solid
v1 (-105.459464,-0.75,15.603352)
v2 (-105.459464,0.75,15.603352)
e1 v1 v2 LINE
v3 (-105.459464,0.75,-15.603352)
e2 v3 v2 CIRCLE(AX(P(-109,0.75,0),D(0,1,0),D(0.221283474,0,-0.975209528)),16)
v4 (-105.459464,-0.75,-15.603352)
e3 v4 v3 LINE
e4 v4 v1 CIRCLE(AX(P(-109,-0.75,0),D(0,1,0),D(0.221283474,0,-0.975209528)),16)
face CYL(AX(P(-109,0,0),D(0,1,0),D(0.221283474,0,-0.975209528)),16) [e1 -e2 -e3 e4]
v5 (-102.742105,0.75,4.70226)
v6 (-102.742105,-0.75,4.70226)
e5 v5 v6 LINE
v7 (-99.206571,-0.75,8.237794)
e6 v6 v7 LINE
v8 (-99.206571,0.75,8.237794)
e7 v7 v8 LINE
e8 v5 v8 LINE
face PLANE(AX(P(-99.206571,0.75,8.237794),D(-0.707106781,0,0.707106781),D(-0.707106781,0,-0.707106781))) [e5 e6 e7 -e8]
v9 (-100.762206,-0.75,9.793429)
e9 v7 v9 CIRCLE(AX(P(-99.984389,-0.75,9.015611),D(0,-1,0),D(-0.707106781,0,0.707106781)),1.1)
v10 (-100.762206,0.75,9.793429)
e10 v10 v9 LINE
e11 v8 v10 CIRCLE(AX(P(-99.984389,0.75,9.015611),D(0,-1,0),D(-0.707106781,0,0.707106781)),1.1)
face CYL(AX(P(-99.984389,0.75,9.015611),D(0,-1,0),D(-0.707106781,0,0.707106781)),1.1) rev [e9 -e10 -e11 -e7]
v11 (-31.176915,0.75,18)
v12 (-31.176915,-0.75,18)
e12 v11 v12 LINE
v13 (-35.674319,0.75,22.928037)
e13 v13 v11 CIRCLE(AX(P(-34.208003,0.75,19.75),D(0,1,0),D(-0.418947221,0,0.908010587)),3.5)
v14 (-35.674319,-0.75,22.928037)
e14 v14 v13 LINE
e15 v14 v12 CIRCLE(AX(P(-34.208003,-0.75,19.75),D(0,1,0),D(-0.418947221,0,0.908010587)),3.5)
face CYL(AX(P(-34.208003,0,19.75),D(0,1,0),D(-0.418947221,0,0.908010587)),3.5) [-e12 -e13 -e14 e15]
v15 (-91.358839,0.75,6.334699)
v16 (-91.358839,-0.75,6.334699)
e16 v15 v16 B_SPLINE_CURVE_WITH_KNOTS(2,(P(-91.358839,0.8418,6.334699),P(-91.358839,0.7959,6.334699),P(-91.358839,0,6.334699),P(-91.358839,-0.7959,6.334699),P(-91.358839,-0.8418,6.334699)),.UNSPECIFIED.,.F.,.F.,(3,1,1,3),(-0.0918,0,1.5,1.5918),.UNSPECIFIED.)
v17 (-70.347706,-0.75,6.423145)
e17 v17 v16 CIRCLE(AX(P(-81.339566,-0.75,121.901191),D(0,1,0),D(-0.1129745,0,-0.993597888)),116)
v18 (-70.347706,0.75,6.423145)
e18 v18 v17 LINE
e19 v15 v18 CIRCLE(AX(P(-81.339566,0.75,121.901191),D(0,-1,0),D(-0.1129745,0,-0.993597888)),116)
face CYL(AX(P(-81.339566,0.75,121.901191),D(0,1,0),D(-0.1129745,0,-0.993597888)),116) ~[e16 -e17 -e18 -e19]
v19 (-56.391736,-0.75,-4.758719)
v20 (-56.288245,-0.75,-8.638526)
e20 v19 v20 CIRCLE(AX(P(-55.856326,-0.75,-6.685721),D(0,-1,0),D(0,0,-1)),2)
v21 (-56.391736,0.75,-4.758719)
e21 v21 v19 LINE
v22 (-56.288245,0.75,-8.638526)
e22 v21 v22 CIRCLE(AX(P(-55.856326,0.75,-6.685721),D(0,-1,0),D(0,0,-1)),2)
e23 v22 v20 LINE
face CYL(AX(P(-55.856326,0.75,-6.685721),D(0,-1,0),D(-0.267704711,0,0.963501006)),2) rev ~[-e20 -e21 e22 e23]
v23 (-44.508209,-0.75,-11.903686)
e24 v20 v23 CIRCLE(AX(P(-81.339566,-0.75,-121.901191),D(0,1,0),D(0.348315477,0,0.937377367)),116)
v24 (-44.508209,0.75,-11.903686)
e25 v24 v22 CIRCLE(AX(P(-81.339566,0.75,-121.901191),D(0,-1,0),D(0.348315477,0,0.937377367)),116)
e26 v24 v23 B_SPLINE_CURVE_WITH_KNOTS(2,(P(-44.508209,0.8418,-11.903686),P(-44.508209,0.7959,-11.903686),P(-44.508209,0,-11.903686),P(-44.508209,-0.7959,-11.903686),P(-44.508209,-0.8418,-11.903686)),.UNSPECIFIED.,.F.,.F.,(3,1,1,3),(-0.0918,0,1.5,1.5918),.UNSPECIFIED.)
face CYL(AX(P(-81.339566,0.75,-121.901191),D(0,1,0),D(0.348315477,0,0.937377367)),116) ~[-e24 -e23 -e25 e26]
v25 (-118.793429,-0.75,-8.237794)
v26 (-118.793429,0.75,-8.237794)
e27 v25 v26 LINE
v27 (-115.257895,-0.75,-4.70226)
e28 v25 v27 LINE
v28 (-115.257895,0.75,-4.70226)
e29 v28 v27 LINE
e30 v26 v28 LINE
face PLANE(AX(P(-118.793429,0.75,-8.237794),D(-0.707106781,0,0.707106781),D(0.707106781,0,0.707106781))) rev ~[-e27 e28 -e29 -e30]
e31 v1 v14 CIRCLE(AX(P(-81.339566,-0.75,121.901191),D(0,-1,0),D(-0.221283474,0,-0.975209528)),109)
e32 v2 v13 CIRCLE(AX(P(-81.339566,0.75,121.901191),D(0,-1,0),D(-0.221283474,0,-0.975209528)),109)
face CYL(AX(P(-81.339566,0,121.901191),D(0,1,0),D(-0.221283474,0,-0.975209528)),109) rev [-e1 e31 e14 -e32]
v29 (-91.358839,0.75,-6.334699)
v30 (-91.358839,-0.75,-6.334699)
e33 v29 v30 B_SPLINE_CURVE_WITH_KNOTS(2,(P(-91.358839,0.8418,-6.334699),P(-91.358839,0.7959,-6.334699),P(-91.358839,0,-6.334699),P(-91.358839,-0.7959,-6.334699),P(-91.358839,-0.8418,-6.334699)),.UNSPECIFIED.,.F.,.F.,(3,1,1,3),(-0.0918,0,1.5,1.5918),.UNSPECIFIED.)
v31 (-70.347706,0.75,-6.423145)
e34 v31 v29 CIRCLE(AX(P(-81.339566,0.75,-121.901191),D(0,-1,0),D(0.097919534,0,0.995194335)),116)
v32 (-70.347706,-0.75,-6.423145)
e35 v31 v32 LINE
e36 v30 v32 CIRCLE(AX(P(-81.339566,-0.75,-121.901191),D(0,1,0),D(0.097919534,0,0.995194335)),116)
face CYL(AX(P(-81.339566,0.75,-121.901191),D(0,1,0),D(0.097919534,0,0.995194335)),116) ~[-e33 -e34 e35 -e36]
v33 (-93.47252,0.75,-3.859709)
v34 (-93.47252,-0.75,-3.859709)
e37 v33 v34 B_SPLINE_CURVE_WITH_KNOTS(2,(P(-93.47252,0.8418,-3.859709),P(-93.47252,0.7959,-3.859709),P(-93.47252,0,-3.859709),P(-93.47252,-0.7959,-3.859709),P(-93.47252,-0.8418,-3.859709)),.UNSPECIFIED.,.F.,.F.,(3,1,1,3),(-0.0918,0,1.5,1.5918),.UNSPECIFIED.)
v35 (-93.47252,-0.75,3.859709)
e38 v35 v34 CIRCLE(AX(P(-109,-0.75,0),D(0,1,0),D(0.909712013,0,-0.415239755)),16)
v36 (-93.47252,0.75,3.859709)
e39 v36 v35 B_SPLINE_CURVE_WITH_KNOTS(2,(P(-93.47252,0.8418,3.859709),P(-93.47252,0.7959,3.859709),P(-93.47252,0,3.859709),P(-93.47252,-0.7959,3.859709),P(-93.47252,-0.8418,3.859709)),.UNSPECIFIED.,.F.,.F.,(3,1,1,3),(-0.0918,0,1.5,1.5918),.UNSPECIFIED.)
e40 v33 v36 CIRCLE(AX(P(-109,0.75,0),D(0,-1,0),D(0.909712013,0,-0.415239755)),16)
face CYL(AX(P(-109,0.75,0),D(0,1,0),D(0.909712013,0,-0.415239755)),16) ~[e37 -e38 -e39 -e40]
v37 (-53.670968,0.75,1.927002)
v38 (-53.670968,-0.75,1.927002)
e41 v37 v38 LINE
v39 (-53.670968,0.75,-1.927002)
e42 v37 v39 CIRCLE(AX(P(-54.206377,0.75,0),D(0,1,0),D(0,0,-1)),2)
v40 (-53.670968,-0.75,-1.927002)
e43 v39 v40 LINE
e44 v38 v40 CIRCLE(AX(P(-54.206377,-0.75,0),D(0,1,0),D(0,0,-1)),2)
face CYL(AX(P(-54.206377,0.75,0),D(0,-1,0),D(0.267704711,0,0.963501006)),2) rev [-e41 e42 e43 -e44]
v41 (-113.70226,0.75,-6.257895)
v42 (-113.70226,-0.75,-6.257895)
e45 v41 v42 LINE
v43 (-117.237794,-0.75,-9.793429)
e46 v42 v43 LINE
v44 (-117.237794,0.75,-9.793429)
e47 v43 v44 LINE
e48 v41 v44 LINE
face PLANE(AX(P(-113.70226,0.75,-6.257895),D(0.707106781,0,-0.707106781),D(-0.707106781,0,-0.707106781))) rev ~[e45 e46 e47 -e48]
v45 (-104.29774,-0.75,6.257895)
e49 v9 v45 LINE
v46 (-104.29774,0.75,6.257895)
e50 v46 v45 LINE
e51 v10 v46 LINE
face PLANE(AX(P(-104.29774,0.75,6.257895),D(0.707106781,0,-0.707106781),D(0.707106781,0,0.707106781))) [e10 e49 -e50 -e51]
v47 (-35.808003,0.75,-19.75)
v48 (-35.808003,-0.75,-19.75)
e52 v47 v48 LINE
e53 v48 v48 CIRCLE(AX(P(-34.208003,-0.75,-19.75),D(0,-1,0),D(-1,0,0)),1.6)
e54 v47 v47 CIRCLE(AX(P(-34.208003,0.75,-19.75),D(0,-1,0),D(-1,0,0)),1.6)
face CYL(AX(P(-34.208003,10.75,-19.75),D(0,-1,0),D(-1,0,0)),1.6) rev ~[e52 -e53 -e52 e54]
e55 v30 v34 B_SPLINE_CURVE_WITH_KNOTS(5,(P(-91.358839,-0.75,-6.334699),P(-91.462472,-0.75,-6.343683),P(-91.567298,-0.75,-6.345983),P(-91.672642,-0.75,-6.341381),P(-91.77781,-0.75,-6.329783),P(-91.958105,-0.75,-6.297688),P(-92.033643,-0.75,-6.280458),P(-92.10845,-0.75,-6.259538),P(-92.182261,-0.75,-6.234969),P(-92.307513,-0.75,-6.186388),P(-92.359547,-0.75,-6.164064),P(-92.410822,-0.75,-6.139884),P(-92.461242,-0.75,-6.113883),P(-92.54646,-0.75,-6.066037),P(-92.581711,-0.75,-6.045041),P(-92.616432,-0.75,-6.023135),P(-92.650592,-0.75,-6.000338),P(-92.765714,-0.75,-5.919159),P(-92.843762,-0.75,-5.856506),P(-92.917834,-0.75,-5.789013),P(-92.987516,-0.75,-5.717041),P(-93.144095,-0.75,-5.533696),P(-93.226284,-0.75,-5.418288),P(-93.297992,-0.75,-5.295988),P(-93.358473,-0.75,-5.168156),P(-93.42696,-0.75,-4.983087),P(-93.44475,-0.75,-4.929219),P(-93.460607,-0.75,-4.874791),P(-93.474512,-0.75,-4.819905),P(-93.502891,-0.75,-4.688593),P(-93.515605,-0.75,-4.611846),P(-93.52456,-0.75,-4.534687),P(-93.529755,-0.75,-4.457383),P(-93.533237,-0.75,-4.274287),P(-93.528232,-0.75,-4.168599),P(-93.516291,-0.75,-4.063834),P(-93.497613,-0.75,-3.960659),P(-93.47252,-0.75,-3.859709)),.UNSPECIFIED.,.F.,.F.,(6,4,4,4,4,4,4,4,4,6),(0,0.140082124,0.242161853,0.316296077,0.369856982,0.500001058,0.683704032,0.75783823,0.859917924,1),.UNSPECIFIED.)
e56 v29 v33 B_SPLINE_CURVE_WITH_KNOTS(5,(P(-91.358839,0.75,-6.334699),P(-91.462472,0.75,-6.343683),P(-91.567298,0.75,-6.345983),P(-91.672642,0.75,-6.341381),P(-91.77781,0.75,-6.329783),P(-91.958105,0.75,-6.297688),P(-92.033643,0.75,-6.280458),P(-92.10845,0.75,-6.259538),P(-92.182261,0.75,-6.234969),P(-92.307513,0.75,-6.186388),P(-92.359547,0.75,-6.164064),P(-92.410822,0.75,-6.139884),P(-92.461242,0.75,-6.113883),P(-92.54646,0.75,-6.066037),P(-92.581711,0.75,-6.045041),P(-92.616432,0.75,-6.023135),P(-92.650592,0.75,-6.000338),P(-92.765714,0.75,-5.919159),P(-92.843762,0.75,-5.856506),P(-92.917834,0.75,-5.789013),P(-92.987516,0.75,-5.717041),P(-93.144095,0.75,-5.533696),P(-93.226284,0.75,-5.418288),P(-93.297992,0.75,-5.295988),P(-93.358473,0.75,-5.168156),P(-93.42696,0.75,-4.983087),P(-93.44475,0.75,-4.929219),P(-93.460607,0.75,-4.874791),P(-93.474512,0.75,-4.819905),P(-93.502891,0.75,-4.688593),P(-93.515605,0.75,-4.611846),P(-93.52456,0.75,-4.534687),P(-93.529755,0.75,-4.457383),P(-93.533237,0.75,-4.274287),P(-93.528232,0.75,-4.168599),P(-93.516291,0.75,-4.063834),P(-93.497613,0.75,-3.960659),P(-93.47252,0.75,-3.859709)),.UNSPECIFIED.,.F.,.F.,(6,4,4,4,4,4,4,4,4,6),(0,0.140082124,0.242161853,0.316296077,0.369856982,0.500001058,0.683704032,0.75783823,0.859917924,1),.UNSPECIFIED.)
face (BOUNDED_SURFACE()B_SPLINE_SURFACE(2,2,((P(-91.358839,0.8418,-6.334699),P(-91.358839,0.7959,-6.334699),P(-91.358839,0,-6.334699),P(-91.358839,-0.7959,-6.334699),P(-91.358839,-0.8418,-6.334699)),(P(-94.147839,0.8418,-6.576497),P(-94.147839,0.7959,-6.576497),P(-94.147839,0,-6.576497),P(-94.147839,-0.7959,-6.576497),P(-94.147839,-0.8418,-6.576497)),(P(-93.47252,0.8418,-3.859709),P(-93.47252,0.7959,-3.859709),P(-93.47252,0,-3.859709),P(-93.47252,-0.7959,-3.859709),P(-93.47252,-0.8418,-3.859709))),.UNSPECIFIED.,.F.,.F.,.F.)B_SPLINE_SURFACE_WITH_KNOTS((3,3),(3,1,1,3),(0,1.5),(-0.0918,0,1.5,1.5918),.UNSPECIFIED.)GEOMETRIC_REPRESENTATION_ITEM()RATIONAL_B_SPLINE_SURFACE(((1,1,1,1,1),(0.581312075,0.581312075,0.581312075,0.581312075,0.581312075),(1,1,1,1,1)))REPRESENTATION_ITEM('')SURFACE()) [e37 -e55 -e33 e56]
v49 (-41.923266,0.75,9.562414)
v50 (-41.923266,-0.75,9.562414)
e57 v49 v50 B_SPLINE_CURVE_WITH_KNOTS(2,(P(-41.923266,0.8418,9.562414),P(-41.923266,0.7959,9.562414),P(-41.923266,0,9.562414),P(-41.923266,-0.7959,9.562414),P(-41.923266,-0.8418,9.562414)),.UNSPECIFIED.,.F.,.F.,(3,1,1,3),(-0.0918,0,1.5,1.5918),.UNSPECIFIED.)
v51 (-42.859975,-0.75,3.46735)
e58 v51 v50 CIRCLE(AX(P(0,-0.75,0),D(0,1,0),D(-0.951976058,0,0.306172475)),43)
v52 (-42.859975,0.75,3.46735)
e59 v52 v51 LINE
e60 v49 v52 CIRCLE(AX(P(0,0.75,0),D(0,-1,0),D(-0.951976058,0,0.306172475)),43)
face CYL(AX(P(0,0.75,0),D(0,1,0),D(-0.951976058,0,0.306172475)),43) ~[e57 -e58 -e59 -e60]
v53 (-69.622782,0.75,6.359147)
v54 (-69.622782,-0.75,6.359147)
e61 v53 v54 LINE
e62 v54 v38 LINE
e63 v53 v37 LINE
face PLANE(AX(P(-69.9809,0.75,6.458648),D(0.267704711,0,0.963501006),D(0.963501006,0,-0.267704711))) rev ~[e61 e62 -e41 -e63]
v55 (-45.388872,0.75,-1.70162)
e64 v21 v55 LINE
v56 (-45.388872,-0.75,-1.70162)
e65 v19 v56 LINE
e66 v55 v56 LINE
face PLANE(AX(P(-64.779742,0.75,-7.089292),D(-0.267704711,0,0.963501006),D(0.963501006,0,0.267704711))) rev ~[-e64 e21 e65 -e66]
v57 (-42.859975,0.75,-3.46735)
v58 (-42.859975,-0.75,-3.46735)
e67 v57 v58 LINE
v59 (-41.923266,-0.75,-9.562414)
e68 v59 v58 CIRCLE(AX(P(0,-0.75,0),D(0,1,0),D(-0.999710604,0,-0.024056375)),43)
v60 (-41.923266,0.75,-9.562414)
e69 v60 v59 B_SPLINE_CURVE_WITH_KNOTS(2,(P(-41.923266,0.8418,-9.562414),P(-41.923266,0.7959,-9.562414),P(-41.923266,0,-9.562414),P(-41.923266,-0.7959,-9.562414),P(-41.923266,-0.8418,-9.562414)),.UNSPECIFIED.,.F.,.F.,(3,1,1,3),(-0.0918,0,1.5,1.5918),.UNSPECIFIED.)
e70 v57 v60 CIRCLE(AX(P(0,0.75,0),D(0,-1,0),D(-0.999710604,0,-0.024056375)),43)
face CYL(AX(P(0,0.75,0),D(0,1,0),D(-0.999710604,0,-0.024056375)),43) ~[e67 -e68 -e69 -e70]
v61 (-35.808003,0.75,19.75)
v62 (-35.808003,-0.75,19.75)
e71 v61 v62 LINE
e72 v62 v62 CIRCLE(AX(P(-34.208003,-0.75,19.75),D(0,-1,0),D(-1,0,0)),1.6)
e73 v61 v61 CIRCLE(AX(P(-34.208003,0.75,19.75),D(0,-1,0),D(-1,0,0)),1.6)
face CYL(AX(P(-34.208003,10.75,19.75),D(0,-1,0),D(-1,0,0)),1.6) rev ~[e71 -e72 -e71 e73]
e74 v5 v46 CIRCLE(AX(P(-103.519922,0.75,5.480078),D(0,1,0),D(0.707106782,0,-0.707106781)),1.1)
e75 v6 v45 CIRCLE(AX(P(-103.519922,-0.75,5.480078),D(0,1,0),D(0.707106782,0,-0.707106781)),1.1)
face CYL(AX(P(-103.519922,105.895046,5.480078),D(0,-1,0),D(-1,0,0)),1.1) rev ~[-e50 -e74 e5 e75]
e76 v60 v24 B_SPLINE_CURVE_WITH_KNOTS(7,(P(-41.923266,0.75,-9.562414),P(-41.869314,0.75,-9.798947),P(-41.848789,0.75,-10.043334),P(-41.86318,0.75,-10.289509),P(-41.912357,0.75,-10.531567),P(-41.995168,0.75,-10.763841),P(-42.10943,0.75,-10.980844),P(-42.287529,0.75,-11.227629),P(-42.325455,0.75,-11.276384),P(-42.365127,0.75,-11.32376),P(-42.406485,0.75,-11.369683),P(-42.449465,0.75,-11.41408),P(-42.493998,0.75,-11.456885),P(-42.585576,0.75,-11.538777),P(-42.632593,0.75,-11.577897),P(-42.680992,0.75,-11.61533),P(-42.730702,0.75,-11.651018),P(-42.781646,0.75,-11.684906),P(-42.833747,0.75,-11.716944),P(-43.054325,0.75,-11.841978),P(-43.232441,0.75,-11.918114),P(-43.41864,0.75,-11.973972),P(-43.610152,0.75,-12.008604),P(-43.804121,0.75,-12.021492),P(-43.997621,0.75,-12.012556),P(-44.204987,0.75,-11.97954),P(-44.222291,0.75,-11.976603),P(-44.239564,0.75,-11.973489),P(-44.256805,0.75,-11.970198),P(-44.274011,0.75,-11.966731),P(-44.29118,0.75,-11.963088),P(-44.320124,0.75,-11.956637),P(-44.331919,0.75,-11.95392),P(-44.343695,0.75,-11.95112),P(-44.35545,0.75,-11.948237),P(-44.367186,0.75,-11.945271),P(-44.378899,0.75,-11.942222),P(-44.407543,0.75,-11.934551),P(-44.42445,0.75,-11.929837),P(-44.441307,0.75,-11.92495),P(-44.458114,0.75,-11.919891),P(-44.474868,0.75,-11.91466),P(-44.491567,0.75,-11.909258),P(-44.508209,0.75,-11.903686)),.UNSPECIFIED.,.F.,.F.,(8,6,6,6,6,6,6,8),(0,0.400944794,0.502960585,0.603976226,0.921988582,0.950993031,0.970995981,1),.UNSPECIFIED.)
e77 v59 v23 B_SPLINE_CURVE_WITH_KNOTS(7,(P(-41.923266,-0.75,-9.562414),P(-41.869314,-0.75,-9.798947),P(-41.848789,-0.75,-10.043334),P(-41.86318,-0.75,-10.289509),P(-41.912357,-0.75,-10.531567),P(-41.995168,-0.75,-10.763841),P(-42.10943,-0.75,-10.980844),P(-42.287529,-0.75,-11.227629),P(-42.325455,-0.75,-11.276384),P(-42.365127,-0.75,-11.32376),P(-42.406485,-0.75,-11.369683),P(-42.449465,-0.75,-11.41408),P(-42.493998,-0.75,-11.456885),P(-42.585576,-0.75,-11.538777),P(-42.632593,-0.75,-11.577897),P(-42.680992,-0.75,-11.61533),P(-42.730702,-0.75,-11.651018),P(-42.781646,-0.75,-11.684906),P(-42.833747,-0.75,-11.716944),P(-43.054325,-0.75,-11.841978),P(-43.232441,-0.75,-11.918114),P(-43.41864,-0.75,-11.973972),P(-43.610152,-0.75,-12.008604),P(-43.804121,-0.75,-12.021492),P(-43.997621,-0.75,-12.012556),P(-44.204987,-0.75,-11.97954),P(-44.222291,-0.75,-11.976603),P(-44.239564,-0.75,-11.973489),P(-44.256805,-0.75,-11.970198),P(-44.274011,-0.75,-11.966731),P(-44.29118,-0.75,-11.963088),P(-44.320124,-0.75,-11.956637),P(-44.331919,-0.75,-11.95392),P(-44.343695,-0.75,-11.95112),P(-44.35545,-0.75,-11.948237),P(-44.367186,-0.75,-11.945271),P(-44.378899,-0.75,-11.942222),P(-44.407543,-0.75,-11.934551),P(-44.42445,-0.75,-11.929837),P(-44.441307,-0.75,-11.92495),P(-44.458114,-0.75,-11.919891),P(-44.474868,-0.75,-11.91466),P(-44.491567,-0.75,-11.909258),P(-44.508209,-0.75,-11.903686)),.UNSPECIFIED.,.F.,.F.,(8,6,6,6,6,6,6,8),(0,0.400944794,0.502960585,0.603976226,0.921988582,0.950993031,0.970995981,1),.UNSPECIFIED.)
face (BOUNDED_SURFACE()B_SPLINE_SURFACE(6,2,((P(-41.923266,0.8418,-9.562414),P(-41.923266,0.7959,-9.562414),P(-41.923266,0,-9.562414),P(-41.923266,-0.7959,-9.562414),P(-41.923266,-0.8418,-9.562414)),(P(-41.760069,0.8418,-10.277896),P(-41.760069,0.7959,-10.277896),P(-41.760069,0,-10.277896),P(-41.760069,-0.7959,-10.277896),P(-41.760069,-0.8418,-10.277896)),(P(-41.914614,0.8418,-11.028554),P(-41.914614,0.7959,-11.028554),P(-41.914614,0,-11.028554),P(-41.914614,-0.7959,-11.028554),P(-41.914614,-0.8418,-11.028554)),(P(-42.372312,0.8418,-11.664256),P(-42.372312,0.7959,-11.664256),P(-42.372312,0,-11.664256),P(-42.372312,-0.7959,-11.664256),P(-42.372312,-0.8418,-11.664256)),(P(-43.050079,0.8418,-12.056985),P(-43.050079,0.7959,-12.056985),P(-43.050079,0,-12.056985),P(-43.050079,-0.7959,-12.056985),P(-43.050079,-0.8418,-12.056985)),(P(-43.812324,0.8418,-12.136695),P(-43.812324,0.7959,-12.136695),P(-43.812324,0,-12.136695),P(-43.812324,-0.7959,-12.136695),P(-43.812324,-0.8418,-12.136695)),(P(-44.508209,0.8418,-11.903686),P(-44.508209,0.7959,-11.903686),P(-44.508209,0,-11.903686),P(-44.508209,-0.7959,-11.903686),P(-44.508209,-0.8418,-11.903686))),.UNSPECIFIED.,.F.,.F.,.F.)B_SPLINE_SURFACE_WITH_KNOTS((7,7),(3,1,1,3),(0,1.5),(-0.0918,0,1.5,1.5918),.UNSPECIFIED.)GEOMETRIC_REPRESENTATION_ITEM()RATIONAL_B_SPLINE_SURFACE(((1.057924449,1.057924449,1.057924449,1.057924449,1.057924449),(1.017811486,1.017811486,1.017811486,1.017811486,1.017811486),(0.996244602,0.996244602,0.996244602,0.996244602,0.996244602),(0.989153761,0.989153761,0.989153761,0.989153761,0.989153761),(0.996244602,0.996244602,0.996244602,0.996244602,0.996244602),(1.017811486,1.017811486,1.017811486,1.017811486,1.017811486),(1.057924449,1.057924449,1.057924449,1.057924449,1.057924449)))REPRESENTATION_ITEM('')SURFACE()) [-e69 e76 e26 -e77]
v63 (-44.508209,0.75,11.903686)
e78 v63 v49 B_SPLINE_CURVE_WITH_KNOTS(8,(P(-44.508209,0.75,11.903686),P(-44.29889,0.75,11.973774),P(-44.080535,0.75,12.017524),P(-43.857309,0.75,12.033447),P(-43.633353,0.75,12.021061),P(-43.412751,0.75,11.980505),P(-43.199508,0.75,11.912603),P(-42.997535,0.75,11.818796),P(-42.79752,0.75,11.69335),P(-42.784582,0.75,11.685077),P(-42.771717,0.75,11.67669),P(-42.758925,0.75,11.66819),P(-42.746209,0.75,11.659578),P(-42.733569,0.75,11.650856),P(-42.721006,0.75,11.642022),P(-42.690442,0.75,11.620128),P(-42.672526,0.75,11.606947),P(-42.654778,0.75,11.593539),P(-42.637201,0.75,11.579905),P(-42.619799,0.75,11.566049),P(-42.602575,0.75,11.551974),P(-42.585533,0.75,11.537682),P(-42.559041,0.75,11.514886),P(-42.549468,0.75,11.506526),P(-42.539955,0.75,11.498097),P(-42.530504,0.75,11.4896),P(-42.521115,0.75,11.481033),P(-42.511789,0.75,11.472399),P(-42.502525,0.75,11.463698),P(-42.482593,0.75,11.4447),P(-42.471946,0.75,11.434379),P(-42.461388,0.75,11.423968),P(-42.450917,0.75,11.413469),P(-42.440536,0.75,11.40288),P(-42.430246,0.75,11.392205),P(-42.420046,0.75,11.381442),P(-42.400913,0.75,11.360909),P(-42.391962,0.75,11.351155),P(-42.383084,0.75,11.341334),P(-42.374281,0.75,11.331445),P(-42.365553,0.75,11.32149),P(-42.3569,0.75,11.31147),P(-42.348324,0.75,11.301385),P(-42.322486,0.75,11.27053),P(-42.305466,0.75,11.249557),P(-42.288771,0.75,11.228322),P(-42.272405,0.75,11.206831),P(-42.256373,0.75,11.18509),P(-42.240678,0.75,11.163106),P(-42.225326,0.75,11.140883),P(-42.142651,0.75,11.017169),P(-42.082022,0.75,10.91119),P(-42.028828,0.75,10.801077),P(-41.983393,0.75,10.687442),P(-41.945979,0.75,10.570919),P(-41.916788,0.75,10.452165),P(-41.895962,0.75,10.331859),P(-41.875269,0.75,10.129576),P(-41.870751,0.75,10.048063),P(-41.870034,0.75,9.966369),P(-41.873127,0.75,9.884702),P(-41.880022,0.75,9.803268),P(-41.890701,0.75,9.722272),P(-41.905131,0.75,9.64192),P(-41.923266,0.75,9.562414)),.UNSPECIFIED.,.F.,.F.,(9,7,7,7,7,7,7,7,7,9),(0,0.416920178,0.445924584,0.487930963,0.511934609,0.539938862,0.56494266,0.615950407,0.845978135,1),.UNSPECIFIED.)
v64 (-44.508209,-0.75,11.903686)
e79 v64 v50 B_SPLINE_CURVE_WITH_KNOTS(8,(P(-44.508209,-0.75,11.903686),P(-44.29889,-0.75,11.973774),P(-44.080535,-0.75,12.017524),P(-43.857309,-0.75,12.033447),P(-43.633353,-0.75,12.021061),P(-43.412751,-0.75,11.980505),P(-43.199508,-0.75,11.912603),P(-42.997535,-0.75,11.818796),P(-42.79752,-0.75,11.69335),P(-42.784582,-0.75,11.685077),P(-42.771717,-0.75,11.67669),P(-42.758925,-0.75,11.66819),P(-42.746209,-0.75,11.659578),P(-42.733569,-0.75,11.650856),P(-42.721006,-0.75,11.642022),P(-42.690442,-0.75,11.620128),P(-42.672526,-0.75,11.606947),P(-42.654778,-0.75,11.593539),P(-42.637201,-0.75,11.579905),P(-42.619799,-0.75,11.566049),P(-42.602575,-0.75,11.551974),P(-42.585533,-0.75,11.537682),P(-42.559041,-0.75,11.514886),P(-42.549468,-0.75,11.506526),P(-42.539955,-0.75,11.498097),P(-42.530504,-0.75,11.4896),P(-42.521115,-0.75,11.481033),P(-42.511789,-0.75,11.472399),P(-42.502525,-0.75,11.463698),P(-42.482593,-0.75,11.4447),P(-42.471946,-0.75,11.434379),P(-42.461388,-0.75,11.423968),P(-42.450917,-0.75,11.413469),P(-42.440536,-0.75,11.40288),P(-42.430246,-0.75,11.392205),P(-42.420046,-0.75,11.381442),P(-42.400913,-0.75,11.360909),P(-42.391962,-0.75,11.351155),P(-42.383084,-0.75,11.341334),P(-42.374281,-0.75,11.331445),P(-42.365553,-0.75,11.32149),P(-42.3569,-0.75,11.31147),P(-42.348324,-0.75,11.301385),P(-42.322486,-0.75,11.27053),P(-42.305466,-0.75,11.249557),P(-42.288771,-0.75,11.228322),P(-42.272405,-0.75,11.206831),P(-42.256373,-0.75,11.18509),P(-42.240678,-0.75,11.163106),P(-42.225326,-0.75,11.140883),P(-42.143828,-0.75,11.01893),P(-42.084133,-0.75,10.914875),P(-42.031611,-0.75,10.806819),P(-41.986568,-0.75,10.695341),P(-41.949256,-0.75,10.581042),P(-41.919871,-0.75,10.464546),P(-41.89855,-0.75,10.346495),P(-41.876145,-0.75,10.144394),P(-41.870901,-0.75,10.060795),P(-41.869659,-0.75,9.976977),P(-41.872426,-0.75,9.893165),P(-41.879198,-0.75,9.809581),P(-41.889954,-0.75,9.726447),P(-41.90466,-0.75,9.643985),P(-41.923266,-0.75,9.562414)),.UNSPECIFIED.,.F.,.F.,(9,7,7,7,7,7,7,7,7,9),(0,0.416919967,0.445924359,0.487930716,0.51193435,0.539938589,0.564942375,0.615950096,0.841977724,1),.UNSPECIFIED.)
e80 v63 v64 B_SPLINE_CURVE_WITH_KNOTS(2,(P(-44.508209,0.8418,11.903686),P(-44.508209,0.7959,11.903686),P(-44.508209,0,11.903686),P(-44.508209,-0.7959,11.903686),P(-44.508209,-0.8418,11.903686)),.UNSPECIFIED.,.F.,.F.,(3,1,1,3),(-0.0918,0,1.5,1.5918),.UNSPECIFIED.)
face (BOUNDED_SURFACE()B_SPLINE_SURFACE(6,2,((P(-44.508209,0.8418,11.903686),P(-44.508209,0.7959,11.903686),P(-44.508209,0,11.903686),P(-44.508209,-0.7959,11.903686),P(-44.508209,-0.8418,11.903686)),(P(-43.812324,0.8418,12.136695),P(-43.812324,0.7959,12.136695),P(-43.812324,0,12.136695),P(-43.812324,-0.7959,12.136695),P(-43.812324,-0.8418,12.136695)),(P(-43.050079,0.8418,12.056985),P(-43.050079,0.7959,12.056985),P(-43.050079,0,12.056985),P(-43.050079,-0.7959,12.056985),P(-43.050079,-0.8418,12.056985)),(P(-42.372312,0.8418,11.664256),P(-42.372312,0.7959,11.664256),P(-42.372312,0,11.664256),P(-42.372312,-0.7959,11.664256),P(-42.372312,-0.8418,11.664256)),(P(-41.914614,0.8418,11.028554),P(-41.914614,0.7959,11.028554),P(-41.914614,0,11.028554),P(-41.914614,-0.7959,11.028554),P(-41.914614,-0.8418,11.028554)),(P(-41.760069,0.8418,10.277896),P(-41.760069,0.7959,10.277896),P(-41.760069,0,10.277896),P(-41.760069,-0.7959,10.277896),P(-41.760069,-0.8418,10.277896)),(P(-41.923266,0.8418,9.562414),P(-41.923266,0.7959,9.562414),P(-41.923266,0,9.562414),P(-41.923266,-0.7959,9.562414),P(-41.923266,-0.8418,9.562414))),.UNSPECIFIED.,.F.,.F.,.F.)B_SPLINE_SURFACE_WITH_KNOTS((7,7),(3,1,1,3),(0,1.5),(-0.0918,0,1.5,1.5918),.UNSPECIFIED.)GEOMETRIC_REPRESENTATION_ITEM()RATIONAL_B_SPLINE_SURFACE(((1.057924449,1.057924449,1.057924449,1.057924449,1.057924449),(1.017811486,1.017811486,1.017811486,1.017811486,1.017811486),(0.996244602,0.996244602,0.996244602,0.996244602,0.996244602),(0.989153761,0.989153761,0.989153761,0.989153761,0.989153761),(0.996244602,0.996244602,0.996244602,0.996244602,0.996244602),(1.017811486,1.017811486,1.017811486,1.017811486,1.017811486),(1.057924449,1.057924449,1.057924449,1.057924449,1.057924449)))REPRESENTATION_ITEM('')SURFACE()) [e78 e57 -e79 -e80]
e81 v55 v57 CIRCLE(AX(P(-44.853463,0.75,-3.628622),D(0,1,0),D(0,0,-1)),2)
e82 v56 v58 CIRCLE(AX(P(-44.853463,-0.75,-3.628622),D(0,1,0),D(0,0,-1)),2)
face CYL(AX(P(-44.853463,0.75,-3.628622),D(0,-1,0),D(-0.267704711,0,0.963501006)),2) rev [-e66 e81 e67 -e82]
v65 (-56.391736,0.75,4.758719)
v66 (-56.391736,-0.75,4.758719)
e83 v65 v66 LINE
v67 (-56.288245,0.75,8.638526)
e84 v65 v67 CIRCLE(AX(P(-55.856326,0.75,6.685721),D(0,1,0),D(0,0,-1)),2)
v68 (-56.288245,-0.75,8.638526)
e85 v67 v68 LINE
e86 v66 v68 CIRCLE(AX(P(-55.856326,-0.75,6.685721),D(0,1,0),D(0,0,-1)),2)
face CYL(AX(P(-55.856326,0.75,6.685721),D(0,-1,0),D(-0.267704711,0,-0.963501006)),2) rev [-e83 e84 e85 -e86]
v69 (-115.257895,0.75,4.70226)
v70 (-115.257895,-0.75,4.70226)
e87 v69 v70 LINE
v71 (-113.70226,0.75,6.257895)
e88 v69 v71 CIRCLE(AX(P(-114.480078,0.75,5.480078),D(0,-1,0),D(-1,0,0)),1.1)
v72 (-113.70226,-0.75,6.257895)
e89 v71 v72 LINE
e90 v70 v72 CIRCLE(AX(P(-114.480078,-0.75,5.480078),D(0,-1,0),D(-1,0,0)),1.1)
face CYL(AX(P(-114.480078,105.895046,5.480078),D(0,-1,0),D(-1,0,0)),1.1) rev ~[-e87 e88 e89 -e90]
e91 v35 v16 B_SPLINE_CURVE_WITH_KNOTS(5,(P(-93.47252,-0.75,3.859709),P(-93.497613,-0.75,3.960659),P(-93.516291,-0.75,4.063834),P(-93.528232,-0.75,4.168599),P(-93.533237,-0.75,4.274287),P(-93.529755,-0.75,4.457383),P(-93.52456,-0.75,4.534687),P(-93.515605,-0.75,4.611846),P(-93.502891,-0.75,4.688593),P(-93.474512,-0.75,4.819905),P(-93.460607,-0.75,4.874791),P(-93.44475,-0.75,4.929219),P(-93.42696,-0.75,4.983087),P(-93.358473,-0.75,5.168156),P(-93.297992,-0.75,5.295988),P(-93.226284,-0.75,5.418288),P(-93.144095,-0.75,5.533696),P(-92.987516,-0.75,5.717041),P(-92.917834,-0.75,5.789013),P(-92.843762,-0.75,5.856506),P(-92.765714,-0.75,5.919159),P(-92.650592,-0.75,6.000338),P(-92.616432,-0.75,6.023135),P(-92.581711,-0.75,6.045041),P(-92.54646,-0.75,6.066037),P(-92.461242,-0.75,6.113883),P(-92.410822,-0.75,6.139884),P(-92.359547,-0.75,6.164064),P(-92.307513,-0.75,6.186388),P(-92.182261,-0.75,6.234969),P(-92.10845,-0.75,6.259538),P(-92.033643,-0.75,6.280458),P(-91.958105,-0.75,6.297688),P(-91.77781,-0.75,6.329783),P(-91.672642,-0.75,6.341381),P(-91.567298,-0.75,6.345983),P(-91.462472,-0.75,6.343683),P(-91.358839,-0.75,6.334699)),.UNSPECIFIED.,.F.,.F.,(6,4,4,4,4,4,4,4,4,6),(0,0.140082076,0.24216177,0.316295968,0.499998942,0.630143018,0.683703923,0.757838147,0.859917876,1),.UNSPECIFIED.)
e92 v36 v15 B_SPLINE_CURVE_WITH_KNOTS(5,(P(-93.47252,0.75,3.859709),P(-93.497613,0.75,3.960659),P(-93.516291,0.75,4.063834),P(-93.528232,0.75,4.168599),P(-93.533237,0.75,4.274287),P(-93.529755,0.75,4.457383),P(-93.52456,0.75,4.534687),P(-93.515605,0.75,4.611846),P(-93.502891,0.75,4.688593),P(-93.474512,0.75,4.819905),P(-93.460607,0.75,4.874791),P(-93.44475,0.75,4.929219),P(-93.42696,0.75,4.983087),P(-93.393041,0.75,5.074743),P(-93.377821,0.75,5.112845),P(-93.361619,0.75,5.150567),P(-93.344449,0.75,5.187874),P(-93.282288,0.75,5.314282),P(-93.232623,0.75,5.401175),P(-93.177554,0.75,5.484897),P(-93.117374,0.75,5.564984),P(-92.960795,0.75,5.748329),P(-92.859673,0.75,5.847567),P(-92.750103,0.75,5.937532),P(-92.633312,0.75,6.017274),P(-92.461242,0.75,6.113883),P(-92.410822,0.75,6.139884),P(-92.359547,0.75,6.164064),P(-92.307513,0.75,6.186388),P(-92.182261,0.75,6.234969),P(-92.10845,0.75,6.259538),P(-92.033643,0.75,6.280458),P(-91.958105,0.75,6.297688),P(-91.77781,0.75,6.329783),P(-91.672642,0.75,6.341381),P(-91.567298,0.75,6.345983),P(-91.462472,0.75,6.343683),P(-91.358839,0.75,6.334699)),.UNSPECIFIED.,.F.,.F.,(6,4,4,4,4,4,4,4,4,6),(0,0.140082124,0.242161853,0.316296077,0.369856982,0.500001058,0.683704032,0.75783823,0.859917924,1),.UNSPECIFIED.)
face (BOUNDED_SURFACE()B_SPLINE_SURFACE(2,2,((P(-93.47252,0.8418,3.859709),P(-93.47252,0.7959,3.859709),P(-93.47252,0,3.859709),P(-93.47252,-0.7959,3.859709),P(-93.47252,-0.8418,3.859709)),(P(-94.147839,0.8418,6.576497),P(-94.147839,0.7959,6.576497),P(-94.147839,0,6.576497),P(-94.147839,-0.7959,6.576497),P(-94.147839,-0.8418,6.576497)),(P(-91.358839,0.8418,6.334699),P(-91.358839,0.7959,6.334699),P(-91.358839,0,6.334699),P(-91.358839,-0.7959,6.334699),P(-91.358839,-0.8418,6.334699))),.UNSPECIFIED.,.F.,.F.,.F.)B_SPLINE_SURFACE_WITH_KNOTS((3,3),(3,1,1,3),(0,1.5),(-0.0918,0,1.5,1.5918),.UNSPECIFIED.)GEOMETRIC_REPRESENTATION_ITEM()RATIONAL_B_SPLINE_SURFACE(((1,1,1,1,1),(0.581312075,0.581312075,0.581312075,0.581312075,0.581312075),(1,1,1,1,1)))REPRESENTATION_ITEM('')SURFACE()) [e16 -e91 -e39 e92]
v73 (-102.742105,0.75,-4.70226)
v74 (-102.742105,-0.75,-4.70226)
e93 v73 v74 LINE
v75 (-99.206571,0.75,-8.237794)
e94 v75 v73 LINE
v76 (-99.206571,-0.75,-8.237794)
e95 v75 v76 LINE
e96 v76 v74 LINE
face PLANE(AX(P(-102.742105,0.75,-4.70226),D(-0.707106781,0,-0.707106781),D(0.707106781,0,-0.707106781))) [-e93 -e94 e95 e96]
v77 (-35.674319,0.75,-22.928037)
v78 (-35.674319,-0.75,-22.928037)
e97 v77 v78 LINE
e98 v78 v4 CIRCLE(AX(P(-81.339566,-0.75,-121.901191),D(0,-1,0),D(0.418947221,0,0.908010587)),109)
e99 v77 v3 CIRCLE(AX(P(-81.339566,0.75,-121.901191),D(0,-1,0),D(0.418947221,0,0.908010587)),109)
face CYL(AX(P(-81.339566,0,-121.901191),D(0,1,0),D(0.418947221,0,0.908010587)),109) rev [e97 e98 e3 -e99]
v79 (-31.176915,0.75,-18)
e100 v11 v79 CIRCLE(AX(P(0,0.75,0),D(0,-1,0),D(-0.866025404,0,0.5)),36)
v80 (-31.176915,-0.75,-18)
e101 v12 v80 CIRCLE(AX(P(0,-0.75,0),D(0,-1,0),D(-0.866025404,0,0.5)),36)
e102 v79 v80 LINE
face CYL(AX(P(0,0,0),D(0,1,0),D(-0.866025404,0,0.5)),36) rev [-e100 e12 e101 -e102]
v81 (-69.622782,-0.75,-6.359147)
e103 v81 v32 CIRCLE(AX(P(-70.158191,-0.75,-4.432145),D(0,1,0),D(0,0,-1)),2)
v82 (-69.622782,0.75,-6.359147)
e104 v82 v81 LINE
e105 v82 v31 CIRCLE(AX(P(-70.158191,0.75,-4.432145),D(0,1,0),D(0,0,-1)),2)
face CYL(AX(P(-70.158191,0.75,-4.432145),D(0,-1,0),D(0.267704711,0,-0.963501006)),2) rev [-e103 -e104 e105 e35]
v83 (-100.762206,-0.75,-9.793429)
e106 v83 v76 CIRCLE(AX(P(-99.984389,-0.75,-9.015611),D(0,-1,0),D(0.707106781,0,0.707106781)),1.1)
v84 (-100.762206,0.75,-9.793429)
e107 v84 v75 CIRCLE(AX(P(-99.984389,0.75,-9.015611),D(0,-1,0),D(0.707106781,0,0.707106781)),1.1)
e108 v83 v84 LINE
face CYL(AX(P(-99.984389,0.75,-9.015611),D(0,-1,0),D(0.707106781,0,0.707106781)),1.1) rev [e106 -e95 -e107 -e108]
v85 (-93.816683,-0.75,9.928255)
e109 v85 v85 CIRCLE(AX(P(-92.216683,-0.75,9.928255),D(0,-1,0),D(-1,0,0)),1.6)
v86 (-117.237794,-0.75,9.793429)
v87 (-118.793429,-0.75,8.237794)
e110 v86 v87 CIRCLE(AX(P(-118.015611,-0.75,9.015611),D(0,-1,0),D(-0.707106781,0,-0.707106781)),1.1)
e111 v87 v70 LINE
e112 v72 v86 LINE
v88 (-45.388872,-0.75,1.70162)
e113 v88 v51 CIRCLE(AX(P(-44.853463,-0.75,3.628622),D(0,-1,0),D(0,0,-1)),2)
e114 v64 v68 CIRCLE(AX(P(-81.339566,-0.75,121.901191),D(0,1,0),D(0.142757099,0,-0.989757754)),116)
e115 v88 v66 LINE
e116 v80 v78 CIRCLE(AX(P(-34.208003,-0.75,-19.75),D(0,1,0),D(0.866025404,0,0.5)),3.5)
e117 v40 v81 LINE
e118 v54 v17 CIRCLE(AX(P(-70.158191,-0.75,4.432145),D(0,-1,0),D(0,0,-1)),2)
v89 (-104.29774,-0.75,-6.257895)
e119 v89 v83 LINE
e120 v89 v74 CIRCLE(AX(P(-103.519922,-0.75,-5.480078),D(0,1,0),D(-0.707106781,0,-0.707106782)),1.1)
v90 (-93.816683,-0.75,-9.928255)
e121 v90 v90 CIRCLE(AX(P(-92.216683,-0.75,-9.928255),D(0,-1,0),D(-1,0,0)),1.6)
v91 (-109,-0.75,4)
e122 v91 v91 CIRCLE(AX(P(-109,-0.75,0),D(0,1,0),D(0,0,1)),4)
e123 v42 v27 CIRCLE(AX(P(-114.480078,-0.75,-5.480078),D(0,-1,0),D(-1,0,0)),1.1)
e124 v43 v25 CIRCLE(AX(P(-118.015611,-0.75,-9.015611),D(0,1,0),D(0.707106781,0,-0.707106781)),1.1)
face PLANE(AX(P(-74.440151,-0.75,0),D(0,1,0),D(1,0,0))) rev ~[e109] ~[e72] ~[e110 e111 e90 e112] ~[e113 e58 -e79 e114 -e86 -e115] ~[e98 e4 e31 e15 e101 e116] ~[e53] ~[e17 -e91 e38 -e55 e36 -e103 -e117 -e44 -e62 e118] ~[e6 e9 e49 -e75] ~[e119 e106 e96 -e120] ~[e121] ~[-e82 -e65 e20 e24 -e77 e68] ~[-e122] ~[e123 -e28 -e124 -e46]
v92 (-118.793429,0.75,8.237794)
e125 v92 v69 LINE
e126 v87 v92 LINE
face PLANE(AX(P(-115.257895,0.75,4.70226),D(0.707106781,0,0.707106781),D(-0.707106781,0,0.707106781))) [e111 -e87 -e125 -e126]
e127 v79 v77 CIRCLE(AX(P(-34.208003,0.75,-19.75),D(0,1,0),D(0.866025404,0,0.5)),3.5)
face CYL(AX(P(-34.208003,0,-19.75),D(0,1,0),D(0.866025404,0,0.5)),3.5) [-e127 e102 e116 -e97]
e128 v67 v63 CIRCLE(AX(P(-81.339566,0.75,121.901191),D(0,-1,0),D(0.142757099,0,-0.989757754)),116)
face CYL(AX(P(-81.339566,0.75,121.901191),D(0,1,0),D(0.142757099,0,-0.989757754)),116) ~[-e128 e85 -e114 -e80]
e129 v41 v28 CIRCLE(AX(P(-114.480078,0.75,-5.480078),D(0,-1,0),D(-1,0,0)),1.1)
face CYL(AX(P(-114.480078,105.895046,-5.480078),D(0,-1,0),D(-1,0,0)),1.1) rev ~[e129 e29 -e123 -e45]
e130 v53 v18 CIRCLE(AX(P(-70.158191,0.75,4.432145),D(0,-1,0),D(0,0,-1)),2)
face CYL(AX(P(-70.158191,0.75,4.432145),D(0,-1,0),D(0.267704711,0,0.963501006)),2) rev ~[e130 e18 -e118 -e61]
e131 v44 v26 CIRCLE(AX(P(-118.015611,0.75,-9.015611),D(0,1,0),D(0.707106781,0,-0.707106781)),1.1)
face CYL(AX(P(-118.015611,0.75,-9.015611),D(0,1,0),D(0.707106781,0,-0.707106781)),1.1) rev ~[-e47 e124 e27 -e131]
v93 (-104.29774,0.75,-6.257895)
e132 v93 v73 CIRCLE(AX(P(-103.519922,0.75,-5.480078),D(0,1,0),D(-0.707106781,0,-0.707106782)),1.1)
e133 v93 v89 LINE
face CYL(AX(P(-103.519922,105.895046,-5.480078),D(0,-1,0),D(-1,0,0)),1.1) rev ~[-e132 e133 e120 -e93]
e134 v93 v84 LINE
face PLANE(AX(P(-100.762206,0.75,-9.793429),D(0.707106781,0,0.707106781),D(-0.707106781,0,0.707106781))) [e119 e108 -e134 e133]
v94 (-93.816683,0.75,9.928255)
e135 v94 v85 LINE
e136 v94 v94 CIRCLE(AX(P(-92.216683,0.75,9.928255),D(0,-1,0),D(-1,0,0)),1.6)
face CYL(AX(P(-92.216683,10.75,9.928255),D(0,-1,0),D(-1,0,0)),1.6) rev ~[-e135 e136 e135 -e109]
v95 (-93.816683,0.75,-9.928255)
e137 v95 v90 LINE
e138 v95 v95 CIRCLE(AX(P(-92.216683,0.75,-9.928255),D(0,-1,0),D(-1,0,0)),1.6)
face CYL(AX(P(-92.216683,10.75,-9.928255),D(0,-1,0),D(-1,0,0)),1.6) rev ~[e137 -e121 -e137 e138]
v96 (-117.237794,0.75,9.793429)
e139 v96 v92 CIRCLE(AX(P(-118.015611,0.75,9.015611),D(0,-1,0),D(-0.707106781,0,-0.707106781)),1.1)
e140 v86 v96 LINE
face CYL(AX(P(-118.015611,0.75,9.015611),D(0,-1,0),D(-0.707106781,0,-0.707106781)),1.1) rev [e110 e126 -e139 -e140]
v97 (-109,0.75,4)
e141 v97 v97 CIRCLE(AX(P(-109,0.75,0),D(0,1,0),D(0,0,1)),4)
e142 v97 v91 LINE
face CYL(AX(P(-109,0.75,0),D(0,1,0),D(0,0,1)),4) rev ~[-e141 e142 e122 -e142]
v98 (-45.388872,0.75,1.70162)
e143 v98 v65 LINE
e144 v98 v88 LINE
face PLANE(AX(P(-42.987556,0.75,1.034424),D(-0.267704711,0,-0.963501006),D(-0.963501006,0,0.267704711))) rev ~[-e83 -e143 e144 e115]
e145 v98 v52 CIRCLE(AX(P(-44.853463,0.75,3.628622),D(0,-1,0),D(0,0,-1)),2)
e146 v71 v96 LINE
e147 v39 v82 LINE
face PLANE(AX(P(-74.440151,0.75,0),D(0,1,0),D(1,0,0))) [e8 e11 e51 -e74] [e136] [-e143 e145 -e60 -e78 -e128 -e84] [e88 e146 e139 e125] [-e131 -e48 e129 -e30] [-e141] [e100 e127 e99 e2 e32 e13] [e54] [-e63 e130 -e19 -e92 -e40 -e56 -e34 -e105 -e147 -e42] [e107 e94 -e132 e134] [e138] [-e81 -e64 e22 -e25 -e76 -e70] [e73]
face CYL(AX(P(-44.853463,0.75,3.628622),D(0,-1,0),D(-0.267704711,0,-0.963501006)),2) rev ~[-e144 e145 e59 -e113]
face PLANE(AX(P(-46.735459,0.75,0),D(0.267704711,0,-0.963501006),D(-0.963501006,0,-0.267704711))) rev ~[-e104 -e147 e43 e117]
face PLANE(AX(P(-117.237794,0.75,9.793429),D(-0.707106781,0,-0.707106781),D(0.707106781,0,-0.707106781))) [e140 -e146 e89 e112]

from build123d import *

# Parameters (mm, degrees)
SKETCH1_R                      = 3.5
BOSS_EXTRUDE1_DEPTH            = 0.75
F_2_2_2_2_DIAMETER_HOLE1_D     = 2.2
F_3_2_3_2_DIAMETER_HOLE1_D     = 3.2
F_3_2_3_2_DIAMETER_HOLE1_DEPTH = 10
F_3_2_3_2_DIAMETER_HOLE1_TIP   = 0.96137699
CUT_EXTRUDE1_DEPTH             = 128.152713302
FILLET1_R                      = 2
SKETCH7_R                      = 4
CUT_EXTRUDE2_DEPTH             = 128.15271342
CUT_EXTRUDE3_DEPTH             = 5


with BuildPart() as part:
    # Sketch1 → Boss-Extrude1 (new, symmetric)
    with BuildSketch(Plane(origin=(0, 0, 0), x_dir=(1, 0, 0), z_dir=(0, 1, 0))):
        with BuildLine():
            ThreePointArc((-37.239092363, -21.5), (-43, 0), (-37.239092363, 21.5))
            ThreePointArc((-37.239092363, 21.5), (-36.567343094, 22.335249783), (-35.674318722, 22.928037055))
            ThreePointArc((-35.674318722, 22.928037055), (-69.961373448, 13.496685886), (-105.45946442, 15.603352454))
            ThreePointArc((-105.45946442, 15.603352454), (-125, 0), (-105.45946442, -15.603352454))
            ThreePointArc((-105.45946442, -15.603352454), (-69.961373448, -13.496685886), (-35.674318722, -22.928037055))
            ThreePointArc((-35.674318722, -22.928037055), (-36.567343094, -22.335249783), (-37.239092363, -21.5))
        make_face()
        with BuildLine():
            ThreePointArc((-31.176914536, 18), (-35.958003449, 16.718911087), (-37.239092363, 21.5))
            ThreePointArc((-37.239092363, 21.5), (-43, 0), (-37.239092363, -21.5))
            ThreePointArc((-37.239092363, -21.5), (-35.958003449, -16.718911087), (-31.176914536, -18))
            ThreePointArc((-31.176914536, -18), (-36, 0), (-31.176914536, 18))
        make_face()
        with Locations((-34.208003449, -19.75)):
            Circle(SKETCH1_R)
        with Locations((-34.208003449, 19.75)):
            Circle(SKETCH1_R)
    extrude(amount=BOSS_EXTRUDE1_DEPTH, both=True)

    # Ø2.2 (2.2) Diameter Hole1 (through all)
    with Locations(Plane(origin=(0, 0.75, 0), x_dir=(1, 0, 0), z_dir=(0, 1, 0))):
        with Locations((-114.480077554, 5.480077554), (-103.519922446, 5.480077554), (-103.519922446, -5.480077554), (-114.480077554, -5.480077554)):
            Hole(F_2_2_2_2_DIAMETER_HOLE1_D / 2)

    # Ø3.2 (3.2) Diameter Hole1
    with Locations(Plane(origin=(0, 0.75, 0), x_dir=(1, 0, 0), z_dir=(0, 1, 0))):
        with Locations((-34.208003449, 19.75), (-34.208003449, -19.75), (-92.21668251, 9.928255337), (-92.21668251, -9.928255337)):
            Hole(F_3_2_3_2_DIAMETER_HOLE1_D / 2, depth=F_3_2_3_2_DIAMETER_HOLE1_DEPTH)
            with Locations((0, 0, -(F_3_2_3_2_DIAMETER_HOLE1_DEPTH + F_3_2_3_2_DIAMETER_HOLE1_TIP / 2))):  # 118° drill point
                Cone(0, F_3_2_3_2_DIAMETER_HOLE1_D / 2, F_3_2_3_2_DIAMETER_HOLE1_TIP, mode=Mode.SUBTRACT)

    # Sketch6 → Cut-Extrude1 (cut, through all)
    with BuildSketch(Plane(origin=(0, 0.75, 0), x_dir=(1, 0, 0), z_dir=(0, 1, 0))):
        with BuildLine():
            Line((-69.980899838, -6.458648161), (-46.735459102, 0))
            Line((-46.735459102, 0), (-69.980899838, 6.458648161))
            ThreePointArc((-69.980899838, 6.458648161), (-82.217649484, 5.904514504), (-94.444607799, 6.643836082))
            ThreePointArc((-94.444607799, 6.643836082), (-93, 0), (-94.444607799, -6.643836082))
            ThreePointArc((-94.444607799, -6.643836082), (-82.217649484, -5.904514504), (-69.980899838, -6.458648161))
        make_face()
        with BuildLine():
            Line((-64.779742297, 7.089291637), (-42.987555952, 1.03442411))
            ThreePointArc((-42.987555952, 1.03442411), (-42.397380289, 7.173712054), (-40.934970503, 13.165416435))
            ThreePointArc((-40.934970503, 13.165416435), (-52.695786799, 9.493300195), (-64.779742297, 7.089291637))
        make_face()
        with BuildLine():
            ThreePointArc((-40.934970503, -13.165416435), (-42.397380289, -7.173712054), (-42.987555952, -1.03442411))
            Line((-42.987555952, -1.03442411), (-64.779742297, -7.089291637))
            ThreePointArc((-64.779742297, -7.089291637), (-52.695786799, -9.493300195), (-40.934970503, -13.165416435))
        make_face()
    extrude(amount=-CUT_EXTRUDE1_DEPTH, mode=Mode.SUBTRACT)

    # Fillet1
    fillet1_edges = [part.edges().sort_by_distance(p)[0] for p in [
        (-42.987555952, 0, 1.03442411),
        (-40.934970503, 0, 13.165416435),
        (-64.779742297, 0, 7.089291637),
        (-94.444607799, 0, 6.643836082),
        (-94.444607799, 0, -6.643836082),
        (-69.980899838, 0, -6.458648161),
        (-46.735459102, 0, 0),
        (-69.980899838, 0, 6.458648161),
        (-40.934970503, 0, -13.165416435),
        (-42.987555952, 0, -1.03442411),
        (-64.779742297, 0, -7.089291637),
    ]]
    fillet(fillet1_edges, radius=FILLET1_R)

    # Sketch7 → Cut-Extrude2 (cut, through all)
    with BuildSketch(Plane(origin=(0, 0.75, 0), x_dir=(1, 0, 0), z_dir=(0, 1, 0))):
        with Locations(Location((-109, 0, 0), (0, 0, 270))):
            Circle(SKETCH7_R)
    extrude(amount=-CUT_EXTRUDE2_DEPTH, mode=Mode.SUBTRACT)

    # Sketch8 → Cut-Extrude3 (cut, symmetric)
    with BuildSketch(Plane(origin=(0, 0.75, 0), x_dir=(1, 0, 0), z_dir=(0, 1, 0))):
        with BuildLine():
            ThreePointArc((-99.206571081, 8.237794001), (-99.206571081, 9.793428919), (-100.762205999, 9.793428919))
            Line((-100.762205999, 9.793428919), (-104.297739905, 6.257895014))
            ThreePointArc((-104.297739905, 6.257895014), (-103.09897067, 6.49634504), (-102.419922446, 5.480077554))
            ThreePointArc((-102.419922446, 5.480077554), (-102.50365496, 5.059125779), (-102.742104986, 4.702260095))
            Line((-102.742104986, 4.702260095), (-99.206571081, 8.237794001))
        make_face()
        with BuildLine():
            ThreePointArc((-100.762205999, -9.793428919), (-99.206571081, -9.793428919), (-99.206571081, -8.237794001))
            Line((-99.206571081, -8.237794001), (-102.742104986, -4.702260095))
            ThreePointArc((-102.742104986, -4.702260095), (-102.50365496, -5.059125779), (-102.419922446, -5.480077554))
            ThreePointArc((-102.419922446, -5.480077554), (-103.09897067, -6.49634504), (-104.297739905, -6.257895014))
            Line((-104.297739905, -6.257895014), (-100.762205999, -9.793428919))
        make_face()
        with BuildLine():
            Line((-115.257895014, -4.702260095), (-118.793428919, -8.237794001))
            ThreePointArc((-118.793428919, -8.237794001), (-118.793428919, -9.793428919), (-117.237794001, -9.793428919))
            Line((-117.237794001, -9.793428919), (-113.702260095, -6.257895014))
            ThreePointArc((-113.702260095, -6.257895014), (-115.257895014, -6.257895014), (-115.257895014, -4.702260095))
        make_face()
        with BuildLine():
            Line((-113.702260095, 6.257895014), (-117.237794001, 9.793428919))
            ThreePointArc((-117.237794001, 9.793428919), (-118.793428919, 9.793428919), (-118.793428919, 8.237794001))
            Line((-118.793428919, 8.237794001), (-115.257895014, 4.702260095))
            ThreePointArc((-115.257895014, 4.702260095), (-115.257895014, 6.257895014), (-113.702260095, 6.257895014))
        make_face()
    extrude(amount=CUT_EXTRUDE3_DEPTH, both=True, mode=Mode.SUBTRACT)


solid = part.part
